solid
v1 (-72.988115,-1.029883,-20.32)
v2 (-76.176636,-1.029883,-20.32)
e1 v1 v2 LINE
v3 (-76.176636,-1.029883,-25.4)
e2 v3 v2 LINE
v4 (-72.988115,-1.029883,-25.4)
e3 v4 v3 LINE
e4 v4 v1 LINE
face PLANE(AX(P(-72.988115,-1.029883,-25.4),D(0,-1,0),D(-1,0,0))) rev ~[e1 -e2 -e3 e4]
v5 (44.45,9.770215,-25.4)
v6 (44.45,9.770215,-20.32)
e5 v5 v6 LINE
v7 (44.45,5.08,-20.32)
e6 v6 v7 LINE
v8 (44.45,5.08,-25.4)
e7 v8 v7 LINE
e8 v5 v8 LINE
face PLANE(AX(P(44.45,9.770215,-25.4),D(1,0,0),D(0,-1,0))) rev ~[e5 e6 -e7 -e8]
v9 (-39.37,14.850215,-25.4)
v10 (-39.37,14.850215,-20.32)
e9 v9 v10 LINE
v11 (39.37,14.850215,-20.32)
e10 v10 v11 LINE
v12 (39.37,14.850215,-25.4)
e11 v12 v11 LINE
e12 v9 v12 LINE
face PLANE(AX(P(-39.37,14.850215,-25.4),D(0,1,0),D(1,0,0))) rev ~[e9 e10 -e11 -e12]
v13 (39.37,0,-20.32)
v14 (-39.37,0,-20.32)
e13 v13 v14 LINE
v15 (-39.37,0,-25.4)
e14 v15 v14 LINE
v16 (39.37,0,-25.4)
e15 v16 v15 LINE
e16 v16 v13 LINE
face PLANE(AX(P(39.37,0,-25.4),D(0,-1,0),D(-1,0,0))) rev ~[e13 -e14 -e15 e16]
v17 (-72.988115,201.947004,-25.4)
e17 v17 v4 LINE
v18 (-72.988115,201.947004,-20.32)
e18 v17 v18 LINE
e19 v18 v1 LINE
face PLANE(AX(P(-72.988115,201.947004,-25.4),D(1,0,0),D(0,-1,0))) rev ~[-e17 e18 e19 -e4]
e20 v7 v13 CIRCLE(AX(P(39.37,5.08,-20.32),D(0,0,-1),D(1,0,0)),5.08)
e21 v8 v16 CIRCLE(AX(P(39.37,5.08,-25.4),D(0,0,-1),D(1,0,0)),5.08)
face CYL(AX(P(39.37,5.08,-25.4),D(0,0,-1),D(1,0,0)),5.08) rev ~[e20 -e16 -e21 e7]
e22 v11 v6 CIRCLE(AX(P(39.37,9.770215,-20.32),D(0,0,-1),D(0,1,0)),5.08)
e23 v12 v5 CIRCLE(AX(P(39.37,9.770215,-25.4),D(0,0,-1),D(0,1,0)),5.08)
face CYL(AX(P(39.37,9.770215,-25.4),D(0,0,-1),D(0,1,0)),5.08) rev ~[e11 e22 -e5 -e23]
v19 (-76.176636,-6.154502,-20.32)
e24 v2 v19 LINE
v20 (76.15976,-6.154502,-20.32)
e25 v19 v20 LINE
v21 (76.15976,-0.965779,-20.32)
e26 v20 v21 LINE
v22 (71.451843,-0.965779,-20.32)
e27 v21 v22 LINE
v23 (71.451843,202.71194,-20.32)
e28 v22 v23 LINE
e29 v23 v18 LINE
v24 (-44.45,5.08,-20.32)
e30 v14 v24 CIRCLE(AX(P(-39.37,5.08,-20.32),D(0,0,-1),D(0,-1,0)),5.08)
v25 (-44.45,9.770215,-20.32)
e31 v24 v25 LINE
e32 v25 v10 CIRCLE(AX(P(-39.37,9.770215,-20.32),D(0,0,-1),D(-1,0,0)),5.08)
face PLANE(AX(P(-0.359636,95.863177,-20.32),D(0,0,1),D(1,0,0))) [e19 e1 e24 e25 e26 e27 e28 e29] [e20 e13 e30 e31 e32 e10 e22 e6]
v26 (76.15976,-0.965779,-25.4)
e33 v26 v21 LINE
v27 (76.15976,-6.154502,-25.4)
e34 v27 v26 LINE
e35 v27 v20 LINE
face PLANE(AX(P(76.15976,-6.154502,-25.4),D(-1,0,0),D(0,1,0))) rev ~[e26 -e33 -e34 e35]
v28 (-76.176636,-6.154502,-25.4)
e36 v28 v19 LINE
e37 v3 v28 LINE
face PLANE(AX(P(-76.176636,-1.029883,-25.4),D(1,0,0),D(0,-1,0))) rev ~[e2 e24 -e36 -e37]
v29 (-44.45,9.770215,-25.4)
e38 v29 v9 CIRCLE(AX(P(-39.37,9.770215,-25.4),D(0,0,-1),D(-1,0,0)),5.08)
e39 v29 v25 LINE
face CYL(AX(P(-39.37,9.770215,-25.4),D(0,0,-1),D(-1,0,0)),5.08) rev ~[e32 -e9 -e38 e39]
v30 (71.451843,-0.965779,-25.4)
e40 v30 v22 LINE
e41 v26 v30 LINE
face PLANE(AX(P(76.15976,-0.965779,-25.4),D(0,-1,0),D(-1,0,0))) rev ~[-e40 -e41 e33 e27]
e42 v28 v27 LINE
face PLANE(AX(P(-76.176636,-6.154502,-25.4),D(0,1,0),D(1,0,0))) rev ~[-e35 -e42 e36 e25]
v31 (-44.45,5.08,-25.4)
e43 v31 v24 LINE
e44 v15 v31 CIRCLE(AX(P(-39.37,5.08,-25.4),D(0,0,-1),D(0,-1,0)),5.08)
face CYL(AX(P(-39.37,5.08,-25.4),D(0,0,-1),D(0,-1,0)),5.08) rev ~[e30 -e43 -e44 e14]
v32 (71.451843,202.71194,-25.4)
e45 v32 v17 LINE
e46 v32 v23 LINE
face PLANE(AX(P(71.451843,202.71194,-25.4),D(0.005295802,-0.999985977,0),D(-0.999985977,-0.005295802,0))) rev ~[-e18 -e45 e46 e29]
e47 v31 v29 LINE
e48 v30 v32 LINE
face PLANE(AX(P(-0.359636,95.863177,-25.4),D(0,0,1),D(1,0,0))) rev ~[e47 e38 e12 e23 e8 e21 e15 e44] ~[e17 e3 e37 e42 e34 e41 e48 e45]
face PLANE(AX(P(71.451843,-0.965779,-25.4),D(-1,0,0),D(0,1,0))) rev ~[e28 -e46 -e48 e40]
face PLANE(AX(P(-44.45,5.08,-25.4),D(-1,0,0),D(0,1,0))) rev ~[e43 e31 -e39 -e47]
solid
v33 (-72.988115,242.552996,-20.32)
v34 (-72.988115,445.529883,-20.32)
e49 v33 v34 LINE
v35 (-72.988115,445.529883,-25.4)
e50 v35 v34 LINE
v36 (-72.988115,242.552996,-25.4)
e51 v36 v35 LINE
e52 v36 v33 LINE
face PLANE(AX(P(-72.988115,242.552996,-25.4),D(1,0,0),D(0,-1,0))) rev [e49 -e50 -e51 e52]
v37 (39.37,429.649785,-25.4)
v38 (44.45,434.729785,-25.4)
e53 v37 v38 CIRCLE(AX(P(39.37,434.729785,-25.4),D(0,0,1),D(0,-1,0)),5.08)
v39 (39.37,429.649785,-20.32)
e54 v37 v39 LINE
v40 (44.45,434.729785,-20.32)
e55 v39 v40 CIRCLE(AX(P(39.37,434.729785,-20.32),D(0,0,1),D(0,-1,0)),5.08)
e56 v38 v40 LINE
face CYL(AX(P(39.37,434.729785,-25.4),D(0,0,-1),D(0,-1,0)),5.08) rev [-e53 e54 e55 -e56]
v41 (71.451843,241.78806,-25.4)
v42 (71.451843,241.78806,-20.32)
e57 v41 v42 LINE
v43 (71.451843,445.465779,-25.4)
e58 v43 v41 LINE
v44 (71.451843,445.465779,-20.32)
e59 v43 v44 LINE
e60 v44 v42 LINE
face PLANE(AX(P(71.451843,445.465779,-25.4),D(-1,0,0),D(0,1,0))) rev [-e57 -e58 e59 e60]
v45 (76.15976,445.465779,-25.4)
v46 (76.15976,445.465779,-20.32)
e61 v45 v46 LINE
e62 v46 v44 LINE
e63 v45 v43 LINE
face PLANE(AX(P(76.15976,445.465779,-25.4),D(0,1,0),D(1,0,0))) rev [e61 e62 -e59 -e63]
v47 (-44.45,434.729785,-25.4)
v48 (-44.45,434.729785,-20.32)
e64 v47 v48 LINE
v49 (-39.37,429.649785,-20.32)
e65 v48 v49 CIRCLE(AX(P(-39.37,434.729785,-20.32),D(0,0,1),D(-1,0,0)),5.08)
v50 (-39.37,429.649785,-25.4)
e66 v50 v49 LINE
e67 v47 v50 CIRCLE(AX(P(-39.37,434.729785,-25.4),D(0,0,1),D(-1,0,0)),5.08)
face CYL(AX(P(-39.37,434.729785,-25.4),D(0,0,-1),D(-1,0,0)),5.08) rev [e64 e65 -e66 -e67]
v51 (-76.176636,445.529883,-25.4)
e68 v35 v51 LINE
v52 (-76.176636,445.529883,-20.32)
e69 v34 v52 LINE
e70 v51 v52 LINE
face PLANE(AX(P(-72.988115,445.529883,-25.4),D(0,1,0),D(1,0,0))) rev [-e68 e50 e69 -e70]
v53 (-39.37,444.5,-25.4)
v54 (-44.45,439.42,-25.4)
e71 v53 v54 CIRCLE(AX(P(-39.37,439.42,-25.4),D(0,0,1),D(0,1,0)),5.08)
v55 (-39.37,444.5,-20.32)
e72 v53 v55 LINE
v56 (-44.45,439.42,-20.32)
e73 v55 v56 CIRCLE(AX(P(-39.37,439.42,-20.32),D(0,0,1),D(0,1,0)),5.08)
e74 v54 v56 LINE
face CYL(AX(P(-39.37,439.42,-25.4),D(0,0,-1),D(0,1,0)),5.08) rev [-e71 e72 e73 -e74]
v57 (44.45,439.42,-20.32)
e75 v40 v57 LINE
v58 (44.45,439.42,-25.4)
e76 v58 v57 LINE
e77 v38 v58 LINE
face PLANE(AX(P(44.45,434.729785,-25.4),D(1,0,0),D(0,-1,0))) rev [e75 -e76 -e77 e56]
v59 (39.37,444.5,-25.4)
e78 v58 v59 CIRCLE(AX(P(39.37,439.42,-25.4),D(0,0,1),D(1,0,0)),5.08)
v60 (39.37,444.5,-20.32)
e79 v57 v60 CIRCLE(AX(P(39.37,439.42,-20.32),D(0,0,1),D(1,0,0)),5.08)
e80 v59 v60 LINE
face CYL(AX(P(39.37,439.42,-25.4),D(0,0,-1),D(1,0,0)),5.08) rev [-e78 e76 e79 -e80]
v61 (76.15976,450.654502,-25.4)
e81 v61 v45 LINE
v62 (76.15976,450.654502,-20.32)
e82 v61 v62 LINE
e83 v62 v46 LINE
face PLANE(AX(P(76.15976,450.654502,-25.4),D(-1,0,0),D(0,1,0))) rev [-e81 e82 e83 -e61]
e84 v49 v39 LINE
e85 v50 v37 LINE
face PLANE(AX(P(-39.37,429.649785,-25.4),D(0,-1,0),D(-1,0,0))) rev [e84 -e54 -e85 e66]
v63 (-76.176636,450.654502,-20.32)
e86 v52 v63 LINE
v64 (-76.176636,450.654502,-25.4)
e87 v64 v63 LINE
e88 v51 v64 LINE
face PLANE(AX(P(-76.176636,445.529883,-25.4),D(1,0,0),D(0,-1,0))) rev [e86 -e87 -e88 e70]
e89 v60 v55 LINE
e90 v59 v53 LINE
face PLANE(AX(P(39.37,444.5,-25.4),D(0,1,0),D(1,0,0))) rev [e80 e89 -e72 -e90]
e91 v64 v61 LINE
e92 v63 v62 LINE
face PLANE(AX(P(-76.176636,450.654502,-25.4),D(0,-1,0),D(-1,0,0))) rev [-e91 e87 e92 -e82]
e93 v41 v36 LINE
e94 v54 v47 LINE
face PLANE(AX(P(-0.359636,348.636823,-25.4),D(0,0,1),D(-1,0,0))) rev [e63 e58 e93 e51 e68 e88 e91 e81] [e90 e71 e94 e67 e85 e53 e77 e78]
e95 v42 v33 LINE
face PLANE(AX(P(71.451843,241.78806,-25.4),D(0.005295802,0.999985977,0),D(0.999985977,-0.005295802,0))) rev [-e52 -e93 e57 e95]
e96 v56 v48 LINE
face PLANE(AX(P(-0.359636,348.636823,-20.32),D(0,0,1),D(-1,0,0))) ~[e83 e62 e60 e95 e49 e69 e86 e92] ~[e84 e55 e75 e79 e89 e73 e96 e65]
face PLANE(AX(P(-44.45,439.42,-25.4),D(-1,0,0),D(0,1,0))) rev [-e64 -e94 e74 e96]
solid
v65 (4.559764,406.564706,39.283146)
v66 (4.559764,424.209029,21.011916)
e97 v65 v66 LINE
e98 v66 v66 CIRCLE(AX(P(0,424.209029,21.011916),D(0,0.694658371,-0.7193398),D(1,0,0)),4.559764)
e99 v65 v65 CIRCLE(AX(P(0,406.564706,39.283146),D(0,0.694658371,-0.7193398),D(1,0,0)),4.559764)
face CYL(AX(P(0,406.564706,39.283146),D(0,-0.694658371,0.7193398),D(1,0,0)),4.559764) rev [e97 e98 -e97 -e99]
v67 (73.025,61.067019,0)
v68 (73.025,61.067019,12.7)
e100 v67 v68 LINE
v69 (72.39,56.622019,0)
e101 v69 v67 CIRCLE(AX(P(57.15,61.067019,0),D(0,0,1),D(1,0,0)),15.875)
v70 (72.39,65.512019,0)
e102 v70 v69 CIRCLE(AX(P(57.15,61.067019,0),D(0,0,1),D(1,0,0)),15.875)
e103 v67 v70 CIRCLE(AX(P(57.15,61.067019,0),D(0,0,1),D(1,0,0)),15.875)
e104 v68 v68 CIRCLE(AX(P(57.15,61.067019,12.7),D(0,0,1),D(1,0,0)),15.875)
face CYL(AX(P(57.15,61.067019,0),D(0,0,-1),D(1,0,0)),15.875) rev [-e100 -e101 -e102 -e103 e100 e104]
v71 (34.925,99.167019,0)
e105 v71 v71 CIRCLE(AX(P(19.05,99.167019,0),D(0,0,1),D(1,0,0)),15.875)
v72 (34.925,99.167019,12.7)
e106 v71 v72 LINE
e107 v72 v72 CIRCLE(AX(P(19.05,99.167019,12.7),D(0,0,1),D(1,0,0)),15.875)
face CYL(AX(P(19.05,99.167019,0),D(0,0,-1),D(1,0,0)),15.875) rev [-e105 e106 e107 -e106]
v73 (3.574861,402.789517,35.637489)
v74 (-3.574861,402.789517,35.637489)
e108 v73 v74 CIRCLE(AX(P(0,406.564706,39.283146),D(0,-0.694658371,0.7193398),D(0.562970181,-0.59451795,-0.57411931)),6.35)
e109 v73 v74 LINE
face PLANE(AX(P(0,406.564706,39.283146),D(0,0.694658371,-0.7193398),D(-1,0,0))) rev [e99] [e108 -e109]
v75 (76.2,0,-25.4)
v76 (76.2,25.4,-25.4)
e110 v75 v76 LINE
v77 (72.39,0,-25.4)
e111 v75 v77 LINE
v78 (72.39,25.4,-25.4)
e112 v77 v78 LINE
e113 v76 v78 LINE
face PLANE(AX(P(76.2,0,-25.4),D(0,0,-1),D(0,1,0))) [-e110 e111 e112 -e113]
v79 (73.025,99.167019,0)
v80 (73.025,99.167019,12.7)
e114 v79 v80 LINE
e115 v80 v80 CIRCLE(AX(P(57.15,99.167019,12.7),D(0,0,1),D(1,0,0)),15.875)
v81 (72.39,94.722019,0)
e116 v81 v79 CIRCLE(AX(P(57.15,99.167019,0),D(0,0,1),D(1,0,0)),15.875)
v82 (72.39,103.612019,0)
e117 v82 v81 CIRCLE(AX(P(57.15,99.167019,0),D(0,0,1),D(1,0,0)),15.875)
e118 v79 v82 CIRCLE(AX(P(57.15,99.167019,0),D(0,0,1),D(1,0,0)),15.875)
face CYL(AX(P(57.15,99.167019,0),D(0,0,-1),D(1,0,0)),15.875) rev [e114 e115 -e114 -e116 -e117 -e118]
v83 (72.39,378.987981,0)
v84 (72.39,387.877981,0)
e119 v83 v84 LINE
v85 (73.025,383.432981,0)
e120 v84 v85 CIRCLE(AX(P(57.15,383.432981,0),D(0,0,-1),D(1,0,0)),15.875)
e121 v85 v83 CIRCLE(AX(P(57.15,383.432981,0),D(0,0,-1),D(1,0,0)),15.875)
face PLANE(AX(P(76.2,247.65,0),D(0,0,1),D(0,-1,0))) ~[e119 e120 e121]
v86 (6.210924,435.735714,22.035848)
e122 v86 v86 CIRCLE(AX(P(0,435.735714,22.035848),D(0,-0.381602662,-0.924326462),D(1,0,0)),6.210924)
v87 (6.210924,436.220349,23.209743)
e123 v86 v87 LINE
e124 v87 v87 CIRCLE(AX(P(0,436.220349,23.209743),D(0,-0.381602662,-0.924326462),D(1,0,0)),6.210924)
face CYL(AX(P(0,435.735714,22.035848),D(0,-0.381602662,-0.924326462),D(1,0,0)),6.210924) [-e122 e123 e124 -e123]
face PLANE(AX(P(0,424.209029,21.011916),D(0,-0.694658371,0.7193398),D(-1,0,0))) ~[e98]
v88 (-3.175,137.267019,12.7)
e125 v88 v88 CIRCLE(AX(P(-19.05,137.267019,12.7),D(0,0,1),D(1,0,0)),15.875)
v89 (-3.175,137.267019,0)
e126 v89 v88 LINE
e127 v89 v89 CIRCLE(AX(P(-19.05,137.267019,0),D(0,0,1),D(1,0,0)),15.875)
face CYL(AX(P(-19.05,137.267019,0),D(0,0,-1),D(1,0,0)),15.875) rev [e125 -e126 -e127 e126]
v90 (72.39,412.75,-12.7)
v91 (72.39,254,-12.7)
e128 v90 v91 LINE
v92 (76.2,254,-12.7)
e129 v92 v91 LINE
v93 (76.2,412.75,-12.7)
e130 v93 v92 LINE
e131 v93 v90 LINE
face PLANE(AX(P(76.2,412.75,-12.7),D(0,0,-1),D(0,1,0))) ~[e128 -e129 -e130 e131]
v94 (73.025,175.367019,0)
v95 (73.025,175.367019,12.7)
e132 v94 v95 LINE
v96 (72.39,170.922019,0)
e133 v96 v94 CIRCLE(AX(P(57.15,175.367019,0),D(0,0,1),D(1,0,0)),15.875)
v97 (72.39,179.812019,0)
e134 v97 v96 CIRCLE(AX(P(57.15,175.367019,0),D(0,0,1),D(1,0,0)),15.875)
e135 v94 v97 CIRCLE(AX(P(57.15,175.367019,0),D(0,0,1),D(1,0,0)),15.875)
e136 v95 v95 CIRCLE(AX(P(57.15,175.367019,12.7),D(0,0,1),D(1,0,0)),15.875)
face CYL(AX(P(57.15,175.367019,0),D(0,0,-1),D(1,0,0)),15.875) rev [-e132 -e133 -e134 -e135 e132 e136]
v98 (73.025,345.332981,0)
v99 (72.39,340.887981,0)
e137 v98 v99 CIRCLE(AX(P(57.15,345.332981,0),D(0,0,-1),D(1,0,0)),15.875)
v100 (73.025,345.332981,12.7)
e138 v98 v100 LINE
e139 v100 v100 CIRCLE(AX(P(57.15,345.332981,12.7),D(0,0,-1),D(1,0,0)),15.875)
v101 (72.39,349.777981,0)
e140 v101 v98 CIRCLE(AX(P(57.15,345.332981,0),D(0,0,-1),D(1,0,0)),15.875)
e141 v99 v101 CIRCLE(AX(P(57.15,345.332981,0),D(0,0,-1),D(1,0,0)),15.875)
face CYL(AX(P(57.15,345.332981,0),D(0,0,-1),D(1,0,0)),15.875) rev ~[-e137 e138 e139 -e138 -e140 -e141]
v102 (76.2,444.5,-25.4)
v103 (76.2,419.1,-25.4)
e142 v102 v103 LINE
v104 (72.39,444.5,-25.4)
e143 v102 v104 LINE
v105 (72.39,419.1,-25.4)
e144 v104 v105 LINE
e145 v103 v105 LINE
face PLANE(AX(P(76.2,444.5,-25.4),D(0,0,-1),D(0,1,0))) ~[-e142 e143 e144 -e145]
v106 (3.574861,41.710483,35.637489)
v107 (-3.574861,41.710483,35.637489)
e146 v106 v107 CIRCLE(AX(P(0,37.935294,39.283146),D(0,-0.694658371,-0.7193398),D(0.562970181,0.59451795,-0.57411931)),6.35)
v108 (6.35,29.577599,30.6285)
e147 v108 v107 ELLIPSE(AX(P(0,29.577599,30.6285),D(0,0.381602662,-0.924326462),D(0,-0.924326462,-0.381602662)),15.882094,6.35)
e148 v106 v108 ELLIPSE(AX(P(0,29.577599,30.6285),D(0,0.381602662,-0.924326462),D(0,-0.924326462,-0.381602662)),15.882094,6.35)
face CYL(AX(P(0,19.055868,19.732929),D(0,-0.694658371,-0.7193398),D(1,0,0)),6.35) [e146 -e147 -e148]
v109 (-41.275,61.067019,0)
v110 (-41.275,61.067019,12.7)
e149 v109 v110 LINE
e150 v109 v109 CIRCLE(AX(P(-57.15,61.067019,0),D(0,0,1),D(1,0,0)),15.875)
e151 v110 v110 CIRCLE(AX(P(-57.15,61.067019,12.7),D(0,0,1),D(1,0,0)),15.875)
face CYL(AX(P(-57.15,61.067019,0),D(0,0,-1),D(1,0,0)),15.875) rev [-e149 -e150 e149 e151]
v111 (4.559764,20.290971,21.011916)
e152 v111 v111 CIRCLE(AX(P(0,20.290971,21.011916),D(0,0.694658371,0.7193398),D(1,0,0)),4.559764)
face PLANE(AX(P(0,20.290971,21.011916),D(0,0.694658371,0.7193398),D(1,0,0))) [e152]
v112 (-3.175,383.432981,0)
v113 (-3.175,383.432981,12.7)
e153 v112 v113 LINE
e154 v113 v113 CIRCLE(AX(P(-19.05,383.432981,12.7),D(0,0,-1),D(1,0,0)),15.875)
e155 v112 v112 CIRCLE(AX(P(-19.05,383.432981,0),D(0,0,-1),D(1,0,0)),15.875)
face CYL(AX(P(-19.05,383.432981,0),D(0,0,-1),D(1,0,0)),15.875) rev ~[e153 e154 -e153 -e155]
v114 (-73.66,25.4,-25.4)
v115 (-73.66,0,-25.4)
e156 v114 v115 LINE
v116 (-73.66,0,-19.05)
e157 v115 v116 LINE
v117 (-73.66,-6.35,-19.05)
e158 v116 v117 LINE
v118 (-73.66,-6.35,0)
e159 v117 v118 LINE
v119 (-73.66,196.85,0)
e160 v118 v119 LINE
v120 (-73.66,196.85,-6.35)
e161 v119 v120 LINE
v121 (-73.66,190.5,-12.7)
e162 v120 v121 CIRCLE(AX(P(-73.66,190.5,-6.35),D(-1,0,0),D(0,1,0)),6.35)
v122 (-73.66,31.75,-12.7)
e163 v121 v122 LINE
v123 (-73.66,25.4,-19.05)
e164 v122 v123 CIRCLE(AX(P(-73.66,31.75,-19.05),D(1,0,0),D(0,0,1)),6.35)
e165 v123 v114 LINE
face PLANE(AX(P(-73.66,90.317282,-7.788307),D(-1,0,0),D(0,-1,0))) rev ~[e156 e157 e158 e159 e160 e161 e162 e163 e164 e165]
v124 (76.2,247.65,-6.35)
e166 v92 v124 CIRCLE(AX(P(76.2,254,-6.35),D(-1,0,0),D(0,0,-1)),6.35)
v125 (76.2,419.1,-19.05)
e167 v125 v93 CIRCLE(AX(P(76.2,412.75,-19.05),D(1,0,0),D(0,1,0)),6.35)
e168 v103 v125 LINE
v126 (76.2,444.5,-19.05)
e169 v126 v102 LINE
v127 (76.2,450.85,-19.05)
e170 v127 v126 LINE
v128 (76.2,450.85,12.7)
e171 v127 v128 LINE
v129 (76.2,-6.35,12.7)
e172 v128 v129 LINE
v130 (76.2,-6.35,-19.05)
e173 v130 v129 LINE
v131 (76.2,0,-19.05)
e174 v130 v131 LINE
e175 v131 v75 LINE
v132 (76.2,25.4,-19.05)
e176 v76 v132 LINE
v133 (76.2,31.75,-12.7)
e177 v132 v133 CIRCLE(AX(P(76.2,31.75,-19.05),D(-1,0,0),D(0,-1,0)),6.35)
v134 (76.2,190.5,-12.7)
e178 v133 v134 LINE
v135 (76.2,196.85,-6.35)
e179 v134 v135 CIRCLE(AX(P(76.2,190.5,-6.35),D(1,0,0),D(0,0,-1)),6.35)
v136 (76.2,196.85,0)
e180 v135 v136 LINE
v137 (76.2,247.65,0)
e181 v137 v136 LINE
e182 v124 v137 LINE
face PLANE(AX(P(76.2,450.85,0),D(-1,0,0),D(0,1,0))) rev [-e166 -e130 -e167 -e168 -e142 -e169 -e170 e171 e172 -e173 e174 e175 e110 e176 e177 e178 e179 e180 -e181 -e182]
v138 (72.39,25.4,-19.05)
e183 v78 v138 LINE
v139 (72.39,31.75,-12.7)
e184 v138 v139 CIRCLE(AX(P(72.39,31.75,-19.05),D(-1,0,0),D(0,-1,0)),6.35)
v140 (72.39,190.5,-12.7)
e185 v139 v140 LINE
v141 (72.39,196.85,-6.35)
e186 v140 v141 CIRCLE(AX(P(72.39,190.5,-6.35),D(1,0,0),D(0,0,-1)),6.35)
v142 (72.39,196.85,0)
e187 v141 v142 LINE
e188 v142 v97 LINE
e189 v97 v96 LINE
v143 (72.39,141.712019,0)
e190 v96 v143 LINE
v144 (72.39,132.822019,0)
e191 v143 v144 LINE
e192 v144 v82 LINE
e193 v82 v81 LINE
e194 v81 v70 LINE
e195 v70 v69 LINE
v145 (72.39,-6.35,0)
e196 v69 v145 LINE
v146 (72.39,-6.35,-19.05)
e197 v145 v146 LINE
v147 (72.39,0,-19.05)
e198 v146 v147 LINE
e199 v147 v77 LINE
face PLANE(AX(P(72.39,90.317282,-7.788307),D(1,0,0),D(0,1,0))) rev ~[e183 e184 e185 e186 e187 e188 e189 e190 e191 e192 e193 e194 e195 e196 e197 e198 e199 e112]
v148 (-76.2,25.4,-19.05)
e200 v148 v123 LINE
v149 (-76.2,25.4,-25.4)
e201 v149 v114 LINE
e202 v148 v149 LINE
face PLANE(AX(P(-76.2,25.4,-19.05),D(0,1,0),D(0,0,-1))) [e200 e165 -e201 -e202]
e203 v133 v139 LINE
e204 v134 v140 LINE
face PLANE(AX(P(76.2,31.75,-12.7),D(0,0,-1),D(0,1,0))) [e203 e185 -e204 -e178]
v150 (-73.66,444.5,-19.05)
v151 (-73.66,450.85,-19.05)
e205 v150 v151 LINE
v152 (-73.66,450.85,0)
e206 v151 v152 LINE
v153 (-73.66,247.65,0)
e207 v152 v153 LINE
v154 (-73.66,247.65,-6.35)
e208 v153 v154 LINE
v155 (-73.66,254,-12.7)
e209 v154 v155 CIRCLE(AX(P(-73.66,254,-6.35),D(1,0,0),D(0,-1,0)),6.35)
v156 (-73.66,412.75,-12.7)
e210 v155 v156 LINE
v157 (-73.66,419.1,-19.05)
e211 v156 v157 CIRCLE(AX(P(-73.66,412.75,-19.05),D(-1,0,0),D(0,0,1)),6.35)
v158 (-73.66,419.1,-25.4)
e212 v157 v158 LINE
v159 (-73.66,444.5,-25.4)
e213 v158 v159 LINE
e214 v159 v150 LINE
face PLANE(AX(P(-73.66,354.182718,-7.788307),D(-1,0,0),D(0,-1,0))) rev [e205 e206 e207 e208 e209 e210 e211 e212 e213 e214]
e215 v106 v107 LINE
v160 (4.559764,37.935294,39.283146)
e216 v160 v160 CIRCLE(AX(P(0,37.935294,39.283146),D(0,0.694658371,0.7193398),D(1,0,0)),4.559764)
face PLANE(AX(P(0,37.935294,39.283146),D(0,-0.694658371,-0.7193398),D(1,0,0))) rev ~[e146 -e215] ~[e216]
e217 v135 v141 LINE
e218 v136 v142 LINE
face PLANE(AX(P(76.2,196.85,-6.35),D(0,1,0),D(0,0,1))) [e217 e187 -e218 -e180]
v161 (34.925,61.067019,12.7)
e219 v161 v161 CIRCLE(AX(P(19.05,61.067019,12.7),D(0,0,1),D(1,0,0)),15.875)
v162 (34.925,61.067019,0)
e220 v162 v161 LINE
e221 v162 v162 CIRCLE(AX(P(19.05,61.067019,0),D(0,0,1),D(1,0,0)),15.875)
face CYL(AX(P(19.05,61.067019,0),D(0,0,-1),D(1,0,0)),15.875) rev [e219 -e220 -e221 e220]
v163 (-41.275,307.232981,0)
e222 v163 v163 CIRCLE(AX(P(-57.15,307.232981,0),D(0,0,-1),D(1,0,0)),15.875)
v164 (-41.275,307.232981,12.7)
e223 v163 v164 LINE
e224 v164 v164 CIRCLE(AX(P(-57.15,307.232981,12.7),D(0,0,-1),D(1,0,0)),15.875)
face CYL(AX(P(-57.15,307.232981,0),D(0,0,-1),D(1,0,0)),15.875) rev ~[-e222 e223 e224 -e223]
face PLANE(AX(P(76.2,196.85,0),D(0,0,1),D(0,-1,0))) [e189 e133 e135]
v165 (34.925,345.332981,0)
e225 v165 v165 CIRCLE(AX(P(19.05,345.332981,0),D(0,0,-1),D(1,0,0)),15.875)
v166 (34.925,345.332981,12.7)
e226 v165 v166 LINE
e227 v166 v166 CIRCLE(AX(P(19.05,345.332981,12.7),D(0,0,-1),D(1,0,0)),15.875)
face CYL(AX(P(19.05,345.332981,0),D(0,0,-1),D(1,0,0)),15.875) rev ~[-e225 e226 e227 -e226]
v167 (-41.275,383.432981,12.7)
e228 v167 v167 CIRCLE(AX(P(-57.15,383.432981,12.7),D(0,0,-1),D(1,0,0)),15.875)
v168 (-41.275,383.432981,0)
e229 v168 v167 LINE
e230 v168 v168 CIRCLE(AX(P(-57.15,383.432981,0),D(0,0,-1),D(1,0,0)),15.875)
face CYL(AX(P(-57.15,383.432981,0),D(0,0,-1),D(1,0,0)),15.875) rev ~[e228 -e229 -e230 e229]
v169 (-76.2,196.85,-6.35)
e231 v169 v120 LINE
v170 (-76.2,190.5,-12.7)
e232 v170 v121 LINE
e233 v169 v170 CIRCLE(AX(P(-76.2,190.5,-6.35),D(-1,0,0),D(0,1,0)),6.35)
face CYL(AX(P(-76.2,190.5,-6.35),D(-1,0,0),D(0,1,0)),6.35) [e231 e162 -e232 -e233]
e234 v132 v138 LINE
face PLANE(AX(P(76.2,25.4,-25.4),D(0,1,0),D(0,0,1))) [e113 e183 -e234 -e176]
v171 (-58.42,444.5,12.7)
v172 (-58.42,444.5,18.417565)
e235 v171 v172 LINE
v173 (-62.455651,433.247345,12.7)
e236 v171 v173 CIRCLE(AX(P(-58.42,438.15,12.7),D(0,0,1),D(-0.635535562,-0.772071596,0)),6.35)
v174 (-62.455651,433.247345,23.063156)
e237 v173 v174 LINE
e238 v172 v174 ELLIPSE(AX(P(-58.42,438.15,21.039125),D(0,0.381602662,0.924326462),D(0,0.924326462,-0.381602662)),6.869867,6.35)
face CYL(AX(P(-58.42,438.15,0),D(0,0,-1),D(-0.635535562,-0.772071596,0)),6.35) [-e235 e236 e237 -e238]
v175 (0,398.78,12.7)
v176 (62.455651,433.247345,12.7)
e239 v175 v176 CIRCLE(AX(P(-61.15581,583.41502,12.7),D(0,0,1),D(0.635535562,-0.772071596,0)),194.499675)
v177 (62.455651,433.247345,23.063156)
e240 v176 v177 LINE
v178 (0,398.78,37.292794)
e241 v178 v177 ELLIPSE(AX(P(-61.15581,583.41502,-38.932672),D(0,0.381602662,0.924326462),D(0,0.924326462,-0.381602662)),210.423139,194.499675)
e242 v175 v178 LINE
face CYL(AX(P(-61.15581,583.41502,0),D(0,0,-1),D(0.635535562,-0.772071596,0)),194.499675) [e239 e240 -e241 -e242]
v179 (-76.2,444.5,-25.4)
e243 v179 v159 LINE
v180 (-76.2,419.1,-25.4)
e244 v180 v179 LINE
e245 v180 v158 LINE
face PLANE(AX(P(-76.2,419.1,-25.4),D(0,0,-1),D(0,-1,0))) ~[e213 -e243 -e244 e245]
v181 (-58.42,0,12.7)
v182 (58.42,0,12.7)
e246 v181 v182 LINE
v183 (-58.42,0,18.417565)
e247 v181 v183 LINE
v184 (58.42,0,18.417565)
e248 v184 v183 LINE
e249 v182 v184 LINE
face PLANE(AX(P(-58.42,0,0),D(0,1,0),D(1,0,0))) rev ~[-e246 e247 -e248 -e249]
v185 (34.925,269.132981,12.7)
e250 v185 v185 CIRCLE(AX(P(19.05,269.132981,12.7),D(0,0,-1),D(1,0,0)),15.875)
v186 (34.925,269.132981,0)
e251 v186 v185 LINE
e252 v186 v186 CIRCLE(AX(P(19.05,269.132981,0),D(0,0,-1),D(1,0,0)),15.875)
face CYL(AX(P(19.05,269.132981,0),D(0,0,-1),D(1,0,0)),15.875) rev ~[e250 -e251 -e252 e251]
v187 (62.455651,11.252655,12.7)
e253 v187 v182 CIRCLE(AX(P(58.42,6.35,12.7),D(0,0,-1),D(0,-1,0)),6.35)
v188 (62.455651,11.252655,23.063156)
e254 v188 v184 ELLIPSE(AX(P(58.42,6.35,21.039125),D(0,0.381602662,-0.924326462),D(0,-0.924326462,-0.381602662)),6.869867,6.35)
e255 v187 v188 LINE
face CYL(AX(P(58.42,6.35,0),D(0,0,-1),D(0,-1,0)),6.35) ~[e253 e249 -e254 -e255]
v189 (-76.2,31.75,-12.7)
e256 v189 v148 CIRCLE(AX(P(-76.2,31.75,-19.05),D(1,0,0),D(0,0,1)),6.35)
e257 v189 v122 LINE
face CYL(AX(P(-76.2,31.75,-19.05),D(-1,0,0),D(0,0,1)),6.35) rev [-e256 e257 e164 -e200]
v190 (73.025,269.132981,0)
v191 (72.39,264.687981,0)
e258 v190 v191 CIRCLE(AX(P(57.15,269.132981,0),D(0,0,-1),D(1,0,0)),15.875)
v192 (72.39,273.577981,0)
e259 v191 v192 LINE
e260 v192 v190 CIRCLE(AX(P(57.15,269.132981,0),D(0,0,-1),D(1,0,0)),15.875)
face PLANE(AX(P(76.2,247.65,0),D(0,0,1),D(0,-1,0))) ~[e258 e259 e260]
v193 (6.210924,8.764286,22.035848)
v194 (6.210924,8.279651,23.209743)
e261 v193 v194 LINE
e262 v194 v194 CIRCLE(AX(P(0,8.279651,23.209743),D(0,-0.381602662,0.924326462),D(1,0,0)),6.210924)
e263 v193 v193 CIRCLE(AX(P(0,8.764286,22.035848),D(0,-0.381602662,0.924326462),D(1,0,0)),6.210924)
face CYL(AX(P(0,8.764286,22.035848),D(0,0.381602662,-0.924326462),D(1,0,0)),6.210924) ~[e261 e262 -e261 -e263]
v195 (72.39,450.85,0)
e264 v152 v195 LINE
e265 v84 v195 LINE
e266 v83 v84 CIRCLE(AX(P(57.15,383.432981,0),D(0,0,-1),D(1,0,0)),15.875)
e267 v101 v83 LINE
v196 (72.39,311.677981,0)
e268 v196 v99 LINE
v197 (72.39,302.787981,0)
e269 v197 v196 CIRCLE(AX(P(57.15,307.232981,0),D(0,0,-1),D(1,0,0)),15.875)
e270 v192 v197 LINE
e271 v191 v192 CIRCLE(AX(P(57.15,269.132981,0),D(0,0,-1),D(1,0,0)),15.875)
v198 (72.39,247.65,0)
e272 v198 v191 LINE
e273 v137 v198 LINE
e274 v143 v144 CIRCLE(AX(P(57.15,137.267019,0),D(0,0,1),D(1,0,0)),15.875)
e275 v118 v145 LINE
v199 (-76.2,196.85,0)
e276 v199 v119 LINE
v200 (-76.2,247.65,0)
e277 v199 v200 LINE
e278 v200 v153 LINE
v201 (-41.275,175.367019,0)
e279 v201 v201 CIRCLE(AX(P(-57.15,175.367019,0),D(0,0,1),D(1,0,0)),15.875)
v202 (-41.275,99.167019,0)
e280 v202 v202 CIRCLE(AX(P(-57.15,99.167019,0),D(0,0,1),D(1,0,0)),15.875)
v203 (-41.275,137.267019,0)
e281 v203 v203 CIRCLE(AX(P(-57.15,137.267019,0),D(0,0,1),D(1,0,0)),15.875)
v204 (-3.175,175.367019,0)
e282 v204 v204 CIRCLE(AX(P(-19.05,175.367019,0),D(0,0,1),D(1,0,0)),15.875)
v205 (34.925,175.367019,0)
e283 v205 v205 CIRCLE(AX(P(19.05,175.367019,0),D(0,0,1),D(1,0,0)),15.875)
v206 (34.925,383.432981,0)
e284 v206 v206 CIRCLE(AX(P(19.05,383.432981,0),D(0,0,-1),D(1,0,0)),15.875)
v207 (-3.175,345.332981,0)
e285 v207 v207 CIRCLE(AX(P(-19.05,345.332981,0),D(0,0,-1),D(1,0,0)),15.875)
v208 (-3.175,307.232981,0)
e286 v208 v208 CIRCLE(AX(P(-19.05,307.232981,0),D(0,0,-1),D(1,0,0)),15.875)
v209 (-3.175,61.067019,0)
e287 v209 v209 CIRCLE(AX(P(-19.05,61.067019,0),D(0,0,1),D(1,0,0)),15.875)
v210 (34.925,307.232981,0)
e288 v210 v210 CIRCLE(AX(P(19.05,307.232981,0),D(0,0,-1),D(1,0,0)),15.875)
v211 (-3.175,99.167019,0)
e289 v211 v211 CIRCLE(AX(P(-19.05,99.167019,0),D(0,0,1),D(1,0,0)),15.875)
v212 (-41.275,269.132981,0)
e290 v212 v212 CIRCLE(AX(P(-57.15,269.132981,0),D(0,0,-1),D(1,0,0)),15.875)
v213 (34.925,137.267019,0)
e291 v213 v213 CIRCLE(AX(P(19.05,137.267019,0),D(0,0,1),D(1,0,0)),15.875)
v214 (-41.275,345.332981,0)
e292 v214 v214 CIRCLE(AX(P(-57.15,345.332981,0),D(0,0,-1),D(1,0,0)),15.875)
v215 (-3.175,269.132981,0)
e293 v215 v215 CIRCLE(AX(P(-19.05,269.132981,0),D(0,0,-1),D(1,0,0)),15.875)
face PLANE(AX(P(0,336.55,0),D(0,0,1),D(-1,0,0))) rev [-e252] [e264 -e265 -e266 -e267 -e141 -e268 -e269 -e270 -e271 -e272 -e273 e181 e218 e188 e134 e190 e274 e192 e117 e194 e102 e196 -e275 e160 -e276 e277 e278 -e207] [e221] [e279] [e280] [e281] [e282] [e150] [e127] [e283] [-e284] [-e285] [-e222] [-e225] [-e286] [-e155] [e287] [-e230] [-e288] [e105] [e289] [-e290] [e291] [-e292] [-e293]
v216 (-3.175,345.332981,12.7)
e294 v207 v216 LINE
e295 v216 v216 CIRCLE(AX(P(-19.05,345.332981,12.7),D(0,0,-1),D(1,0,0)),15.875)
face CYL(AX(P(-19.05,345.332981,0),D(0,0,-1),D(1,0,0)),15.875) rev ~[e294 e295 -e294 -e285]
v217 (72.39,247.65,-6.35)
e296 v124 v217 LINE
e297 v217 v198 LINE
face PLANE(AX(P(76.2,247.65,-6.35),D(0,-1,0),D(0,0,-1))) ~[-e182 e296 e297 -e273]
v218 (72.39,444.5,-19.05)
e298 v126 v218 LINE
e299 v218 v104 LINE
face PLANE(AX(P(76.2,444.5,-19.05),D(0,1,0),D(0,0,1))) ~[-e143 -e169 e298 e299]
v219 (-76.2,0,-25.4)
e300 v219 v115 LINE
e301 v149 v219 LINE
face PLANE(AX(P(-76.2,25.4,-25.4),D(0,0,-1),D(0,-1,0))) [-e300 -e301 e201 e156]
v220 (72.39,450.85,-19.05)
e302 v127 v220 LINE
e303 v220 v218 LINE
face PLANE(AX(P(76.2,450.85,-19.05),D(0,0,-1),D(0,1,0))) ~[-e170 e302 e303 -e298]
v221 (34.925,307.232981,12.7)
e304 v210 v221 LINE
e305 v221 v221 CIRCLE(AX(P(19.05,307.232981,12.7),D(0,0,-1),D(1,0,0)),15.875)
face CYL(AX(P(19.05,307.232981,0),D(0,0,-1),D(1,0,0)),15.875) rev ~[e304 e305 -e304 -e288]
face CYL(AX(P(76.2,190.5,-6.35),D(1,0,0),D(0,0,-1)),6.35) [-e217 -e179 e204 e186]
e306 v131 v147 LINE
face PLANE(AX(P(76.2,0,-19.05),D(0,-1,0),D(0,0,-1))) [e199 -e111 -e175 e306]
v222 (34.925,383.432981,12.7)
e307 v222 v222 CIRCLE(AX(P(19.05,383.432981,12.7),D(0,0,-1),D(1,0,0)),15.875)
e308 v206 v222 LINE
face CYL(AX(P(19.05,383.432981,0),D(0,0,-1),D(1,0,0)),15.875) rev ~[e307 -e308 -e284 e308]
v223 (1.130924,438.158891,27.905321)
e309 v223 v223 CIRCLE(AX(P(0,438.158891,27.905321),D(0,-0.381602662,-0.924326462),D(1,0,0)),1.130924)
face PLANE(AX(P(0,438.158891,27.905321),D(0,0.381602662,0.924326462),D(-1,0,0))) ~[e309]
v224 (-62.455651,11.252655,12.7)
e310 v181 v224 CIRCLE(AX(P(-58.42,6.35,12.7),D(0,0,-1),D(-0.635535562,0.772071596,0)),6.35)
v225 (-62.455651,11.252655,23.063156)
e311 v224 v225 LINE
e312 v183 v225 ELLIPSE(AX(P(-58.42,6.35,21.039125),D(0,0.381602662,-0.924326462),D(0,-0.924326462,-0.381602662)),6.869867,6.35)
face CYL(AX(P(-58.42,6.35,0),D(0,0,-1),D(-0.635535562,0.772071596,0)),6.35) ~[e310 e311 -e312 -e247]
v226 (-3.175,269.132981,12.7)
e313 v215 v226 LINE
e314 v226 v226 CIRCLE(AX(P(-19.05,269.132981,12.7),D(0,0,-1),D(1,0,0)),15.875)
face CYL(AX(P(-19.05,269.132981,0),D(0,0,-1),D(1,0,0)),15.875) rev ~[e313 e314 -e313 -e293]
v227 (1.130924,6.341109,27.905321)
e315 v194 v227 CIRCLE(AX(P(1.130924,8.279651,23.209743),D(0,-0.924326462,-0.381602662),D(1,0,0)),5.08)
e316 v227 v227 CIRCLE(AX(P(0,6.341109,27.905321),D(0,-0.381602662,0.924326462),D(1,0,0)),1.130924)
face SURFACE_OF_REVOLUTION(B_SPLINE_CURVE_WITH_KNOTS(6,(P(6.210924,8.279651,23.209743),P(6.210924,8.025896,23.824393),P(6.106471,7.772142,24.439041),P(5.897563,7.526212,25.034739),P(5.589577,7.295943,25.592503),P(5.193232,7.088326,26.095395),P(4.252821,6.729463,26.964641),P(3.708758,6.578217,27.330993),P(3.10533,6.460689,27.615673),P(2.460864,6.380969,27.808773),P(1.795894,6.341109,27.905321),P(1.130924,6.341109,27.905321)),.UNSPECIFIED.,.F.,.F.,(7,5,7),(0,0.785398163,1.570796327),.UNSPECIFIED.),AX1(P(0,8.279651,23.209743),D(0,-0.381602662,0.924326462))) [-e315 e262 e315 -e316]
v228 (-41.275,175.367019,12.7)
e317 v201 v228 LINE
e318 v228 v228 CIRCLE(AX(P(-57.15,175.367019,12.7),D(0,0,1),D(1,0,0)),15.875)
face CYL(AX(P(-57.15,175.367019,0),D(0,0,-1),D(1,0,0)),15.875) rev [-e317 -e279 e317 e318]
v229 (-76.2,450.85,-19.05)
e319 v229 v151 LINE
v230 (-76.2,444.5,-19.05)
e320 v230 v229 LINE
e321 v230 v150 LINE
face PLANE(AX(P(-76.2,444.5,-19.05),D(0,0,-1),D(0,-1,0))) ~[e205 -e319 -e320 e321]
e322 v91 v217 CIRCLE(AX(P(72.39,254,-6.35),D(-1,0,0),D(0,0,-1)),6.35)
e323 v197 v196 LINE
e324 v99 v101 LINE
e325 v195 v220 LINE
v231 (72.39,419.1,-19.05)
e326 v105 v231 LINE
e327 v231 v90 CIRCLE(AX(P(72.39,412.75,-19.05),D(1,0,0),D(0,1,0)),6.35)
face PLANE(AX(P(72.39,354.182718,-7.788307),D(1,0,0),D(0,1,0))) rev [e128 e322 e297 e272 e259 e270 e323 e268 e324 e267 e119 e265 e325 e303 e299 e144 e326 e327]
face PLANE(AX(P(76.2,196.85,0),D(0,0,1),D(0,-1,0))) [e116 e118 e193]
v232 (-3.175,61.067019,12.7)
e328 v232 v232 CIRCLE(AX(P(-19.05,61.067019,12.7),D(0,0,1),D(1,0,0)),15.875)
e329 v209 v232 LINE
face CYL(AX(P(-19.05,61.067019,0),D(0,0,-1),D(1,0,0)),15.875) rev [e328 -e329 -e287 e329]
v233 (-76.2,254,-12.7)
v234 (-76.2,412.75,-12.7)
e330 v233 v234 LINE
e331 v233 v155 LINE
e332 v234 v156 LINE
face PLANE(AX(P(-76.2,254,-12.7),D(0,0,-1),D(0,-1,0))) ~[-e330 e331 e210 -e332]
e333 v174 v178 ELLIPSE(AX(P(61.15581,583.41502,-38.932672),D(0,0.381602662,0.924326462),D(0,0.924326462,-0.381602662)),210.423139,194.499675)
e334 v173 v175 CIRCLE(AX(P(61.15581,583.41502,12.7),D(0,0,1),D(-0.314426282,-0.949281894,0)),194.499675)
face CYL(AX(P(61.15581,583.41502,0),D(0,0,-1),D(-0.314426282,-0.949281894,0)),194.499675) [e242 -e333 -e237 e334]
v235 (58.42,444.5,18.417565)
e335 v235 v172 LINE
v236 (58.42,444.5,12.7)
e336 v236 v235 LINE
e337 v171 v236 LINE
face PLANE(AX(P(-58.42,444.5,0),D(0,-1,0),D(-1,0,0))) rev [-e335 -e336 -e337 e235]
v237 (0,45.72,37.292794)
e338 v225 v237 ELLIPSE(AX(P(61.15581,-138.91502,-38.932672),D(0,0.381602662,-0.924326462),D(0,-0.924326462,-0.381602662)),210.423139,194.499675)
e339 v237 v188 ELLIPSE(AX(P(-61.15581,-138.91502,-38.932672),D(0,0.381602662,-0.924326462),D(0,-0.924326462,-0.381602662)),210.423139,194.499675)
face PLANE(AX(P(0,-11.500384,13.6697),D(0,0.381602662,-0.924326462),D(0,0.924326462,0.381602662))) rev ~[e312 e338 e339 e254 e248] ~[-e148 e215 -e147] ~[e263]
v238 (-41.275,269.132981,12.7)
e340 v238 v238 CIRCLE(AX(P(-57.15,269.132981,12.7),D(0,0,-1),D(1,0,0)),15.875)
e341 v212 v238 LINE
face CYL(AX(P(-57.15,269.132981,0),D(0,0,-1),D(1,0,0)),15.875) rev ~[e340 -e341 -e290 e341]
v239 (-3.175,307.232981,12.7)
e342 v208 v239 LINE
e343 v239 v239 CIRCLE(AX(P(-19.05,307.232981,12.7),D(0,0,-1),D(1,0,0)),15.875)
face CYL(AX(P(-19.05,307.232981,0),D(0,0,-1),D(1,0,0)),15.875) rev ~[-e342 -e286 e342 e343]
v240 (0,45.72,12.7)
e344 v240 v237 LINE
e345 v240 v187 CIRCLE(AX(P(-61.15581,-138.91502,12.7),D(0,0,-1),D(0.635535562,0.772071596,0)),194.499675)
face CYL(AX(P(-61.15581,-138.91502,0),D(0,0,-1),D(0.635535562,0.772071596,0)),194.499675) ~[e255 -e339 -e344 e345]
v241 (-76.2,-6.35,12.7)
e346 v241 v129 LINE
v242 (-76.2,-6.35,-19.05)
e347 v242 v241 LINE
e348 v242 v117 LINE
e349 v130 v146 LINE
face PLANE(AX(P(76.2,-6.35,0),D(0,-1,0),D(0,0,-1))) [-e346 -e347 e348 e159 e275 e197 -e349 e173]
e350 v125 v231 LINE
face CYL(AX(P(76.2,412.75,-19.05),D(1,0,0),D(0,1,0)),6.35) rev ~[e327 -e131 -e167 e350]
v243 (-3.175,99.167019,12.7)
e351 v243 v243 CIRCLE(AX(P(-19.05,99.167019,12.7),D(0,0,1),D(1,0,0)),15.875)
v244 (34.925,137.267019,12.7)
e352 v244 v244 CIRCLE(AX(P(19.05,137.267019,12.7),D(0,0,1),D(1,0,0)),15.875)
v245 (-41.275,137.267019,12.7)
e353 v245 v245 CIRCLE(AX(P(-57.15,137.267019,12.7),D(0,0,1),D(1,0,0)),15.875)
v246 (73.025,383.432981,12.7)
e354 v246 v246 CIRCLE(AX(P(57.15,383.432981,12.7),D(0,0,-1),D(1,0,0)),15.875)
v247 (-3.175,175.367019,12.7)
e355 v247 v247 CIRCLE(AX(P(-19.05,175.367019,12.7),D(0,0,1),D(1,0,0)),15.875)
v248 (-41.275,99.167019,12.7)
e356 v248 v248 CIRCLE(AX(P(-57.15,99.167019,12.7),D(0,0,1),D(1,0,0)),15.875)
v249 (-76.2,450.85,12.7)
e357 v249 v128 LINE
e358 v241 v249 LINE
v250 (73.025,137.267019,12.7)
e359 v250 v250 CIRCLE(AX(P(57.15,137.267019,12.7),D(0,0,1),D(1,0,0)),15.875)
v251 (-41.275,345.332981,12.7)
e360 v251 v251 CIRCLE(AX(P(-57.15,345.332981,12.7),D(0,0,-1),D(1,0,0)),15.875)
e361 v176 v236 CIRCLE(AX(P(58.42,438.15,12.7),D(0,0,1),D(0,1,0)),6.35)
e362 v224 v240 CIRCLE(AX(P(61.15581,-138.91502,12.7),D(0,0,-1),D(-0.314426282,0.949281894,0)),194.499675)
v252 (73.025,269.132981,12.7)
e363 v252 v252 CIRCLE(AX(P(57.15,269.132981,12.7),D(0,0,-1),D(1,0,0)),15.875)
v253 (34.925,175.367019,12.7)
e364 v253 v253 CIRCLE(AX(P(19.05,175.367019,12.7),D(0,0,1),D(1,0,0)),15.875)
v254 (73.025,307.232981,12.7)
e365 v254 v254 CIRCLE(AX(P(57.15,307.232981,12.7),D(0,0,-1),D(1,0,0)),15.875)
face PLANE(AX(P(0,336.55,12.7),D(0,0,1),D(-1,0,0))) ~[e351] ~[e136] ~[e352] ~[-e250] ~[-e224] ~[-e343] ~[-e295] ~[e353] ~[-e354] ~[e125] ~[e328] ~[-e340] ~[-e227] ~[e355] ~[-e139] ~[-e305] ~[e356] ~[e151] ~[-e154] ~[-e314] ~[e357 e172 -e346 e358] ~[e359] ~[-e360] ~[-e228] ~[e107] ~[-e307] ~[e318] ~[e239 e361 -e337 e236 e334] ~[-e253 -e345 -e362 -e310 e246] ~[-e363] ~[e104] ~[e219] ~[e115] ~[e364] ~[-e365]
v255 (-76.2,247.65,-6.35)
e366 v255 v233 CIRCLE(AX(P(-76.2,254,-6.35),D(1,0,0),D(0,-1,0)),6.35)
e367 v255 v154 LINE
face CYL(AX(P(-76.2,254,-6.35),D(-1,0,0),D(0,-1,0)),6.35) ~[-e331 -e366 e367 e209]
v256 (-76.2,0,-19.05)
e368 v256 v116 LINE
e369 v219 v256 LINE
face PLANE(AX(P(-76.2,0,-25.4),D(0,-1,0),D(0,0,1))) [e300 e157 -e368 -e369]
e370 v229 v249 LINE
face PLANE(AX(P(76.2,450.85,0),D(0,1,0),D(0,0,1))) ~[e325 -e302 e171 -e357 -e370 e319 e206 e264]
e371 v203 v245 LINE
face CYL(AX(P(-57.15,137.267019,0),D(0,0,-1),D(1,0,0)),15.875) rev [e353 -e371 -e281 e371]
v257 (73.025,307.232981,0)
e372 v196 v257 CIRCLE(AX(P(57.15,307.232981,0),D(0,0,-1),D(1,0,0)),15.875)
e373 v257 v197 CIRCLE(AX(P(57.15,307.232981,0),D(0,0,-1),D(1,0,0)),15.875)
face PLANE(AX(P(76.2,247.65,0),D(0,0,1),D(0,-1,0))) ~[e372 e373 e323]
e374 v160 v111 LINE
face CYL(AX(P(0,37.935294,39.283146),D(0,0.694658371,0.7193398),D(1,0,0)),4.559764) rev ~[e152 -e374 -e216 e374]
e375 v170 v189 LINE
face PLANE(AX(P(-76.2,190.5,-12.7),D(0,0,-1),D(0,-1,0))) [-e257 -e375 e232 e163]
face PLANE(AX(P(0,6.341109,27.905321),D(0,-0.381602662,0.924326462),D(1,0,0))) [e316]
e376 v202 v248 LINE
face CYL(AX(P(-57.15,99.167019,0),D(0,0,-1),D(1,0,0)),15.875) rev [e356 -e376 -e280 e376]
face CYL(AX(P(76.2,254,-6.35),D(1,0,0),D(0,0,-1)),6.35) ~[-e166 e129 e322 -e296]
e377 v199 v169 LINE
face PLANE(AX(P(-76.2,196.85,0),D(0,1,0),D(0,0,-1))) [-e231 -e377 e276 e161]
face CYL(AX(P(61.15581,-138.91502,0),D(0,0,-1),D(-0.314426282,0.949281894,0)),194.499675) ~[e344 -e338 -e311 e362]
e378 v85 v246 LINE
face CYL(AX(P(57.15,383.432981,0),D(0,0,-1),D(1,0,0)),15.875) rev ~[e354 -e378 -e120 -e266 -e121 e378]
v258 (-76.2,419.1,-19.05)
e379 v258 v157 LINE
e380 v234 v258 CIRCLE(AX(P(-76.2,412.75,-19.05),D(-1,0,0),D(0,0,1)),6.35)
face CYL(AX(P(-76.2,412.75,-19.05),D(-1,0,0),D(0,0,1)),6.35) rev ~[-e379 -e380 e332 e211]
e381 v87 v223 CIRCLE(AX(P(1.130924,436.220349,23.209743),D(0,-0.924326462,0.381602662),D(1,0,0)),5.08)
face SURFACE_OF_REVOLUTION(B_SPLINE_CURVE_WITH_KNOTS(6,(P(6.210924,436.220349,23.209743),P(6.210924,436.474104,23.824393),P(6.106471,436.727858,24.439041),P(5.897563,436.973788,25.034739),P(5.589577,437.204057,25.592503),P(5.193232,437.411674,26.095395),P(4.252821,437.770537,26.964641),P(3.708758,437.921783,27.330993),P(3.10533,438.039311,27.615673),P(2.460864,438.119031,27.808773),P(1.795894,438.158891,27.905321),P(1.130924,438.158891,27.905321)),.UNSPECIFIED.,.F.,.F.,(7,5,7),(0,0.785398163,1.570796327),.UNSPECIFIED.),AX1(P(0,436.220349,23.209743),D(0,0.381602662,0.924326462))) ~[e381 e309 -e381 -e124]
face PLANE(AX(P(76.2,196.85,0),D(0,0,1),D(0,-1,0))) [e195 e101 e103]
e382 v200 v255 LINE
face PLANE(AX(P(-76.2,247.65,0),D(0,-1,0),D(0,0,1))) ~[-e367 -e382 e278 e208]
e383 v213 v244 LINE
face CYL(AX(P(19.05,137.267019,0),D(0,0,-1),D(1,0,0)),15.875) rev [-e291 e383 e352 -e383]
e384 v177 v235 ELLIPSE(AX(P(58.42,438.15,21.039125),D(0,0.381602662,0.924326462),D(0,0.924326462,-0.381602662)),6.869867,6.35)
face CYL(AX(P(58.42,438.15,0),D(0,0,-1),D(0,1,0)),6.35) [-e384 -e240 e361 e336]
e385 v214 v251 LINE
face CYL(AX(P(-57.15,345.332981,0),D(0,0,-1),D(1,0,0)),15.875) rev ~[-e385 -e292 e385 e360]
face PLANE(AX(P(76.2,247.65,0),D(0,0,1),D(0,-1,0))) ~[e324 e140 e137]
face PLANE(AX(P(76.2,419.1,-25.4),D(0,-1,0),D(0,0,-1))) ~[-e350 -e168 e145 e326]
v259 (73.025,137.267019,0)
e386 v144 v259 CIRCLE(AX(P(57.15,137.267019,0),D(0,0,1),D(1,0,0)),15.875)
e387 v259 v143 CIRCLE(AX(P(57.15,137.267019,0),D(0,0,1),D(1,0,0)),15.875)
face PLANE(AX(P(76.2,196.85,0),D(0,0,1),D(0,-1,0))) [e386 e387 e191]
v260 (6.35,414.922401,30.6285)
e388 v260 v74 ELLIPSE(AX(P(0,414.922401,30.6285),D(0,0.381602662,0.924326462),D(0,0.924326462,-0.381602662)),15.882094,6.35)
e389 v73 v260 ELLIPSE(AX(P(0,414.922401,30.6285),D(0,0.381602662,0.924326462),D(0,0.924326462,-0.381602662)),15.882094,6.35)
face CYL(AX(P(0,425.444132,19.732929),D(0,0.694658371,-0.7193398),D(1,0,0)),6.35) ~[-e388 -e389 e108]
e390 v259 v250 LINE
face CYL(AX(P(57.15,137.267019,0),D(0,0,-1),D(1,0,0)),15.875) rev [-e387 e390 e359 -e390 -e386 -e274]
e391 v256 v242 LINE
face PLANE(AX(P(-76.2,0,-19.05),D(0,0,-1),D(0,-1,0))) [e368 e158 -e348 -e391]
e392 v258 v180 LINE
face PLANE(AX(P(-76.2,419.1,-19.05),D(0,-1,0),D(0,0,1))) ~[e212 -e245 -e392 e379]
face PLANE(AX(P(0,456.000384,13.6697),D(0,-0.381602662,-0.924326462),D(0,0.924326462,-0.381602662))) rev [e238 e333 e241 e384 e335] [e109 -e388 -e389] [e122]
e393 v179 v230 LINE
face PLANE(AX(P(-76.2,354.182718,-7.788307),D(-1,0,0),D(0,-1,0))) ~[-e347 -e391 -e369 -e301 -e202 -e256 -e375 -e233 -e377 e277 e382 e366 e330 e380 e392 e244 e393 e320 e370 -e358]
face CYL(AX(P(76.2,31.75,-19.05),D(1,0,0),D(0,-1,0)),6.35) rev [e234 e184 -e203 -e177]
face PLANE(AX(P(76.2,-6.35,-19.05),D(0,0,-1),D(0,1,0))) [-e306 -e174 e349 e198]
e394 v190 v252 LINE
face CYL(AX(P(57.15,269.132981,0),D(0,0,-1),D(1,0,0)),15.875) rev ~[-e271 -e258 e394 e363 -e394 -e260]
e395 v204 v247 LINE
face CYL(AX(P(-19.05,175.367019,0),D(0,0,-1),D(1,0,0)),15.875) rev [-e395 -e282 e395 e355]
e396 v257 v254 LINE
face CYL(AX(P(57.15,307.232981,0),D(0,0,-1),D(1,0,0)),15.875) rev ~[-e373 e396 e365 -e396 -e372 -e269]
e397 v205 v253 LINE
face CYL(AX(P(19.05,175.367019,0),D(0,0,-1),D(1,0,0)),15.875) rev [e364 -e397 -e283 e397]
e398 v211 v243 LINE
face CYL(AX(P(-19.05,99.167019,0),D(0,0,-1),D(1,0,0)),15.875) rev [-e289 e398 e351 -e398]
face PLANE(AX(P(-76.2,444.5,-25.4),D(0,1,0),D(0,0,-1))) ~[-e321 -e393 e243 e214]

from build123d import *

# Parameters (mm, degrees)
F1_DEPTH       = 38.1
F3_DEPTH       = 101.6
F6_START       = -27.432
F5_R           = 6.35
F6_DEPTH       = 27.178
F8_R           = 6.210923981
F9_DEPTH       = 6.35
F10_R          = 5.08
F11_R          = 4.5597642591
F12_DEPTH      = 25.4
F12_DEPTH_BACK = 25.654
F13_W          = 152.4
F13_H          = 228.6
F13_R          = 15.875
F14_DEPTH      = 12.7
F16_DEPTH      = 3.81
F19_DEPTH      = 2.54
F22_DEPTH      = 5.08
F24_DEPTH      = 5.08


with BuildPart() as f1:
    # F0 (on Top) → F1 (new body)
    with BuildSketch(Plane.XY):
        with BuildLine():
            Line((-58.42, 0), (0, 0))
            Line((0, 0), (58.42, 0))
            ThreePointArc((58.42, 0), (64.3972216341, 4.2063298907), (62.45565082, 11.2526546339))
            ThreePointArc((62.45565082, 11.2526546339), (32.821504106, 31.3741110757), (0, 45.72))
            ThreePointArc((0, 45.72), (-32.821504106, 31.3741110757), (-62.45565082, 11.2526546339))
            ThreePointArc((-62.45565082, 11.2526546339), (-64.3972216341, 4.2063298907), (-58.42, 0))
        make_face()
    extrude(amount=F1_DEPTH)

    # F2 (on Right) → F3 (cut, symmetric)
    with BuildSketch(Plane.YZ):
        Polygon((-11.5003837273, 13.6697003618), (53.3394254744, 40.4384285212), (-11.5003837273, 40.4384285212), align=None)
    extrude(amount=F3_DEPTH, both=True, mode=Mode.SUBTRACT)

    # F5 (on face) → F6 (join)
    with BuildSketch(Plane(origin=(0, 0, 0), x_dir=(1, 0, 0), z_dir=(0, -0.6946583705, -0.7193398003)).offset(F6_START)):
        Circle(F5_R)
    extrude(amount=-F6_DEPTH)

    # F8 (on offset) → F9 (join)
    with BuildSketch(Plane(origin=(0, -6.4963437354, 15.7355884002), x_dir=(1, 0, 0), z_dir=(0, -0.381602662, 0.924326462))):
        with Locations((0, 16.51)):
            Circle(F8_R)
    extrude(amount=F9_DEPTH)

    # F10
    f10_edges = [f1.edges().sort_by_distance(p)[0] for p in [
        (-6.210924, 6.341109, 27.905321),
    ]]
    fillet(f10_edges, radius=F10_R)

    # F11 (on face) → F12 (cut, two sides)
    with BuildSketch(Plane(origin=(0, 37.9352936108, 39.2831464965), x_dir=(1, 0, 0), z_dir=(0, 0.6946583705, 0.7193398003))) as f12_sk:
        Circle(F11_R)
    extrude(amount=-F12_DEPTH, mode=Mode.SUBTRACT)
    extrude(f12_sk.sketch, amount=F12_DEPTH_BACK, mode=Mode.SUBTRACT)

    # F13 (on Top) → F14 (join)
    with BuildSketch(Plane.XY):
        with Locations((0, 107.95)):
            Rectangle(F13_W, F13_H)
        with Locations((-57.15, 61.0670186579)):
            Circle(F13_R, mode=Mode.SUBTRACT)
        with Locations((-57.15, 99.1670186579)):
            Circle(F13_R, mode=Mode.SUBTRACT)
        with Locations((-19.05, 61.0670186579)):
            Circle(F13_R, mode=Mode.SUBTRACT)
        with Locations((-19.05, 99.1670186579)):
            Circle(F13_R, mode=Mode.SUBTRACT)
        with Locations((19.05, 61.0670186579)):
            Circle(F13_R, mode=Mode.SUBTRACT)
        with Locations((19.05, 99.1670186579)):
            Circle(F13_R, mode=Mode.SUBTRACT)
        with Locations((57.15, 61.0670186579)):
            Circle(F13_R, mode=Mode.SUBTRACT)
        with Locations((57.15, 99.1670186579)):
            Circle(F13_R, mode=Mode.SUBTRACT)
        with Locations((-57.15, 137.2670186579)):
            Circle(F13_R, mode=Mode.SUBTRACT)
        with Locations((-19.05, 137.2670186579)):
            Circle(F13_R, mode=Mode.SUBTRACT)
        with Locations((-57.15, 175.3670186579)):
            Circle(F13_R, mode=Mode.SUBTRACT)
        with Locations((-19.05, 175.3670186579)):
            Circle(F13_R, mode=Mode.SUBTRACT)
        with Locations((19.05, 137.2670186579)):
            Circle(F13_R, mode=Mode.SUBTRACT)
        with Locations((57.15, 137.2670186579)):
            Circle(F13_R, mode=Mode.SUBTRACT)
        with Locations((19.05, 175.3670186579)):
            Circle(F13_R, mode=Mode.SUBTRACT)
        with Locations((57.15, 175.3670186579)):
            Circle(F13_R, mode=Mode.SUBTRACT)
    extrude(amount=F14_DEPTH)

    # F15 (on face) → F16 (join)
    with BuildSketch(Plane.YZ.offset(76.2)):
        with BuildLine():
            Line((196.85, 0), (-6.35, 0))
            Line((-6.35, 0), (-6.35, -19.05))
            Line((-6.35, -19.05), (0, -19.05))
            Line((0, -19.05), (0, -25.4))
            Line((0, -25.4), (25.4, -25.4))
            Line((25.4, -25.4), (25.4, -19.05))
            ThreePointArc((25.4, -19.05), (27.2598719395, -14.5598719395), (31.75, -12.7))
            Line((31.75, -12.7), (190.5, -12.7))
            ThreePointArc((190.5, -12.7), (194.9901280605, -10.8401280605), (196.85, -6.35))
            Line((196.85, -6.35), (196.85, 0))
        make_face()
    extrude(amount=-F16_DEPTH)

    # F18 (on plane+point) → F19 (join)
    with BuildSketch(Plane(origin=(-76.2, 0, 0), x_dir=(0, -1, 0), z_dir=(-1, 0, 0))):
        with BuildLine():
            Line((-196.85, 0), (-196.85, -6.35))
            ThreePointArc((-196.85, -6.35), (-194.9901280605, -10.8401280605), (-190.5, -12.7))
            Line((-190.5, -12.7), (-31.75, -12.7))
            ThreePointArc((-31.75, -12.7), (-27.2598719395, -14.5598719395), (-25.4, -19.05))
            Line((-25.4, -19.05), (-25.4, -25.4))
            Line((-25.4, -25.4), (0, -25.4))
            Line((0, -25.4), (0, -19.05))
            Line((0, -19.05), (6.35, -19.05))
            Line((6.35, -19.05), (6.35, 0))
            Line((6.35, 0), (-56.6220186579, 0))
            Line((-56.6220186579, 0), (-65.5120186579, 0))
            Line((-65.5120186579, 0), (-94.7220186579, 0))
            Line((-94.7220186579, 0), (-103.6120186579, 0))
            Line((-103.6120186579, 0), (-132.8220186579, 0))
            Line((-132.8220186579, 0), (-141.7120186579, 0))
            Line((-141.7120186579, 0), (-170.9220186579, 0))
            Line((-170.9220186579, 0), (-179.8120186579, 0))
            Line((-179.8120186579, 0), (-196.85, 0))
        make_face()
    extrude(amount=-F19_DEPTH)

    # F25: F1, F22 across face


with BuildPart() as f22:
    # F21 (on face) → F22 (new body)
    with BuildSketch(Plane.XY.offset(-25.4)):
        Polygon((-72.9881152511, -1.0298828129), (-76.176635921, -1.0298828129), (-76.176635921, -6.1545022763), (76.1597603559, -6.1545022763), (76.1597603559, -0.9657788323), (71.4518427849, -0.9657788323), (71.4518427849, 202.7119398117), (-72.9881152511, 201.947003603), align=None)
    extrude(amount=F22_DEPTH)

    # F23 (on face) → F24 (cut, through all)
    with BuildSketch(Plane(origin=(0, 0, -25.4), x_dir=(1, 0, 0), z_dir=(0, 0, -1))):
        with BuildLine():
            Line((39.37, 0), (0, 0))
            Line((0, 0), (-39.37, 0))
            ThreePointArc((-39.37, 0), (-42.9621024484, -1.4878975516), (-44.45, -5.08))
            Line((-44.45, -5.08), (-44.45, -9.7702150673))
            ThreePointArc((-44.45, -9.7702150673), (-42.9621024484, -13.3623175158), (-39.37, -14.8502150673))
            Line((-39.37, -14.8502150673), (39.37, -14.8502150673))
            ThreePointArc((39.37, -14.8502150673), (42.9621024484, -13.3623175158), (44.45, -9.7702150673))
            Line((44.45, -9.7702150673), (44.45, -5.08))
            ThreePointArc((44.45, -5.08), (42.9621024484, -1.4878975516), (39.37, 0))
        make_face()
    extrude(amount=-F24_DEPTH, mode=Mode.SUBTRACT)


with BuildPart() as f1_1:
    add(f1.part)
    add(f1.part.mirror(Plane(origin=(0, 222.25, 6.35), x_dir=(-1, 0, 0), z_dir=(0, 1, 0))))
    add(f22.part.mirror(Plane(origin=(0, 222.25, 6.35), x_dir=(-1, 0, 0), z_dir=(0, 1, 0))))


solid = Compound([f22.part, f1_1.part])
